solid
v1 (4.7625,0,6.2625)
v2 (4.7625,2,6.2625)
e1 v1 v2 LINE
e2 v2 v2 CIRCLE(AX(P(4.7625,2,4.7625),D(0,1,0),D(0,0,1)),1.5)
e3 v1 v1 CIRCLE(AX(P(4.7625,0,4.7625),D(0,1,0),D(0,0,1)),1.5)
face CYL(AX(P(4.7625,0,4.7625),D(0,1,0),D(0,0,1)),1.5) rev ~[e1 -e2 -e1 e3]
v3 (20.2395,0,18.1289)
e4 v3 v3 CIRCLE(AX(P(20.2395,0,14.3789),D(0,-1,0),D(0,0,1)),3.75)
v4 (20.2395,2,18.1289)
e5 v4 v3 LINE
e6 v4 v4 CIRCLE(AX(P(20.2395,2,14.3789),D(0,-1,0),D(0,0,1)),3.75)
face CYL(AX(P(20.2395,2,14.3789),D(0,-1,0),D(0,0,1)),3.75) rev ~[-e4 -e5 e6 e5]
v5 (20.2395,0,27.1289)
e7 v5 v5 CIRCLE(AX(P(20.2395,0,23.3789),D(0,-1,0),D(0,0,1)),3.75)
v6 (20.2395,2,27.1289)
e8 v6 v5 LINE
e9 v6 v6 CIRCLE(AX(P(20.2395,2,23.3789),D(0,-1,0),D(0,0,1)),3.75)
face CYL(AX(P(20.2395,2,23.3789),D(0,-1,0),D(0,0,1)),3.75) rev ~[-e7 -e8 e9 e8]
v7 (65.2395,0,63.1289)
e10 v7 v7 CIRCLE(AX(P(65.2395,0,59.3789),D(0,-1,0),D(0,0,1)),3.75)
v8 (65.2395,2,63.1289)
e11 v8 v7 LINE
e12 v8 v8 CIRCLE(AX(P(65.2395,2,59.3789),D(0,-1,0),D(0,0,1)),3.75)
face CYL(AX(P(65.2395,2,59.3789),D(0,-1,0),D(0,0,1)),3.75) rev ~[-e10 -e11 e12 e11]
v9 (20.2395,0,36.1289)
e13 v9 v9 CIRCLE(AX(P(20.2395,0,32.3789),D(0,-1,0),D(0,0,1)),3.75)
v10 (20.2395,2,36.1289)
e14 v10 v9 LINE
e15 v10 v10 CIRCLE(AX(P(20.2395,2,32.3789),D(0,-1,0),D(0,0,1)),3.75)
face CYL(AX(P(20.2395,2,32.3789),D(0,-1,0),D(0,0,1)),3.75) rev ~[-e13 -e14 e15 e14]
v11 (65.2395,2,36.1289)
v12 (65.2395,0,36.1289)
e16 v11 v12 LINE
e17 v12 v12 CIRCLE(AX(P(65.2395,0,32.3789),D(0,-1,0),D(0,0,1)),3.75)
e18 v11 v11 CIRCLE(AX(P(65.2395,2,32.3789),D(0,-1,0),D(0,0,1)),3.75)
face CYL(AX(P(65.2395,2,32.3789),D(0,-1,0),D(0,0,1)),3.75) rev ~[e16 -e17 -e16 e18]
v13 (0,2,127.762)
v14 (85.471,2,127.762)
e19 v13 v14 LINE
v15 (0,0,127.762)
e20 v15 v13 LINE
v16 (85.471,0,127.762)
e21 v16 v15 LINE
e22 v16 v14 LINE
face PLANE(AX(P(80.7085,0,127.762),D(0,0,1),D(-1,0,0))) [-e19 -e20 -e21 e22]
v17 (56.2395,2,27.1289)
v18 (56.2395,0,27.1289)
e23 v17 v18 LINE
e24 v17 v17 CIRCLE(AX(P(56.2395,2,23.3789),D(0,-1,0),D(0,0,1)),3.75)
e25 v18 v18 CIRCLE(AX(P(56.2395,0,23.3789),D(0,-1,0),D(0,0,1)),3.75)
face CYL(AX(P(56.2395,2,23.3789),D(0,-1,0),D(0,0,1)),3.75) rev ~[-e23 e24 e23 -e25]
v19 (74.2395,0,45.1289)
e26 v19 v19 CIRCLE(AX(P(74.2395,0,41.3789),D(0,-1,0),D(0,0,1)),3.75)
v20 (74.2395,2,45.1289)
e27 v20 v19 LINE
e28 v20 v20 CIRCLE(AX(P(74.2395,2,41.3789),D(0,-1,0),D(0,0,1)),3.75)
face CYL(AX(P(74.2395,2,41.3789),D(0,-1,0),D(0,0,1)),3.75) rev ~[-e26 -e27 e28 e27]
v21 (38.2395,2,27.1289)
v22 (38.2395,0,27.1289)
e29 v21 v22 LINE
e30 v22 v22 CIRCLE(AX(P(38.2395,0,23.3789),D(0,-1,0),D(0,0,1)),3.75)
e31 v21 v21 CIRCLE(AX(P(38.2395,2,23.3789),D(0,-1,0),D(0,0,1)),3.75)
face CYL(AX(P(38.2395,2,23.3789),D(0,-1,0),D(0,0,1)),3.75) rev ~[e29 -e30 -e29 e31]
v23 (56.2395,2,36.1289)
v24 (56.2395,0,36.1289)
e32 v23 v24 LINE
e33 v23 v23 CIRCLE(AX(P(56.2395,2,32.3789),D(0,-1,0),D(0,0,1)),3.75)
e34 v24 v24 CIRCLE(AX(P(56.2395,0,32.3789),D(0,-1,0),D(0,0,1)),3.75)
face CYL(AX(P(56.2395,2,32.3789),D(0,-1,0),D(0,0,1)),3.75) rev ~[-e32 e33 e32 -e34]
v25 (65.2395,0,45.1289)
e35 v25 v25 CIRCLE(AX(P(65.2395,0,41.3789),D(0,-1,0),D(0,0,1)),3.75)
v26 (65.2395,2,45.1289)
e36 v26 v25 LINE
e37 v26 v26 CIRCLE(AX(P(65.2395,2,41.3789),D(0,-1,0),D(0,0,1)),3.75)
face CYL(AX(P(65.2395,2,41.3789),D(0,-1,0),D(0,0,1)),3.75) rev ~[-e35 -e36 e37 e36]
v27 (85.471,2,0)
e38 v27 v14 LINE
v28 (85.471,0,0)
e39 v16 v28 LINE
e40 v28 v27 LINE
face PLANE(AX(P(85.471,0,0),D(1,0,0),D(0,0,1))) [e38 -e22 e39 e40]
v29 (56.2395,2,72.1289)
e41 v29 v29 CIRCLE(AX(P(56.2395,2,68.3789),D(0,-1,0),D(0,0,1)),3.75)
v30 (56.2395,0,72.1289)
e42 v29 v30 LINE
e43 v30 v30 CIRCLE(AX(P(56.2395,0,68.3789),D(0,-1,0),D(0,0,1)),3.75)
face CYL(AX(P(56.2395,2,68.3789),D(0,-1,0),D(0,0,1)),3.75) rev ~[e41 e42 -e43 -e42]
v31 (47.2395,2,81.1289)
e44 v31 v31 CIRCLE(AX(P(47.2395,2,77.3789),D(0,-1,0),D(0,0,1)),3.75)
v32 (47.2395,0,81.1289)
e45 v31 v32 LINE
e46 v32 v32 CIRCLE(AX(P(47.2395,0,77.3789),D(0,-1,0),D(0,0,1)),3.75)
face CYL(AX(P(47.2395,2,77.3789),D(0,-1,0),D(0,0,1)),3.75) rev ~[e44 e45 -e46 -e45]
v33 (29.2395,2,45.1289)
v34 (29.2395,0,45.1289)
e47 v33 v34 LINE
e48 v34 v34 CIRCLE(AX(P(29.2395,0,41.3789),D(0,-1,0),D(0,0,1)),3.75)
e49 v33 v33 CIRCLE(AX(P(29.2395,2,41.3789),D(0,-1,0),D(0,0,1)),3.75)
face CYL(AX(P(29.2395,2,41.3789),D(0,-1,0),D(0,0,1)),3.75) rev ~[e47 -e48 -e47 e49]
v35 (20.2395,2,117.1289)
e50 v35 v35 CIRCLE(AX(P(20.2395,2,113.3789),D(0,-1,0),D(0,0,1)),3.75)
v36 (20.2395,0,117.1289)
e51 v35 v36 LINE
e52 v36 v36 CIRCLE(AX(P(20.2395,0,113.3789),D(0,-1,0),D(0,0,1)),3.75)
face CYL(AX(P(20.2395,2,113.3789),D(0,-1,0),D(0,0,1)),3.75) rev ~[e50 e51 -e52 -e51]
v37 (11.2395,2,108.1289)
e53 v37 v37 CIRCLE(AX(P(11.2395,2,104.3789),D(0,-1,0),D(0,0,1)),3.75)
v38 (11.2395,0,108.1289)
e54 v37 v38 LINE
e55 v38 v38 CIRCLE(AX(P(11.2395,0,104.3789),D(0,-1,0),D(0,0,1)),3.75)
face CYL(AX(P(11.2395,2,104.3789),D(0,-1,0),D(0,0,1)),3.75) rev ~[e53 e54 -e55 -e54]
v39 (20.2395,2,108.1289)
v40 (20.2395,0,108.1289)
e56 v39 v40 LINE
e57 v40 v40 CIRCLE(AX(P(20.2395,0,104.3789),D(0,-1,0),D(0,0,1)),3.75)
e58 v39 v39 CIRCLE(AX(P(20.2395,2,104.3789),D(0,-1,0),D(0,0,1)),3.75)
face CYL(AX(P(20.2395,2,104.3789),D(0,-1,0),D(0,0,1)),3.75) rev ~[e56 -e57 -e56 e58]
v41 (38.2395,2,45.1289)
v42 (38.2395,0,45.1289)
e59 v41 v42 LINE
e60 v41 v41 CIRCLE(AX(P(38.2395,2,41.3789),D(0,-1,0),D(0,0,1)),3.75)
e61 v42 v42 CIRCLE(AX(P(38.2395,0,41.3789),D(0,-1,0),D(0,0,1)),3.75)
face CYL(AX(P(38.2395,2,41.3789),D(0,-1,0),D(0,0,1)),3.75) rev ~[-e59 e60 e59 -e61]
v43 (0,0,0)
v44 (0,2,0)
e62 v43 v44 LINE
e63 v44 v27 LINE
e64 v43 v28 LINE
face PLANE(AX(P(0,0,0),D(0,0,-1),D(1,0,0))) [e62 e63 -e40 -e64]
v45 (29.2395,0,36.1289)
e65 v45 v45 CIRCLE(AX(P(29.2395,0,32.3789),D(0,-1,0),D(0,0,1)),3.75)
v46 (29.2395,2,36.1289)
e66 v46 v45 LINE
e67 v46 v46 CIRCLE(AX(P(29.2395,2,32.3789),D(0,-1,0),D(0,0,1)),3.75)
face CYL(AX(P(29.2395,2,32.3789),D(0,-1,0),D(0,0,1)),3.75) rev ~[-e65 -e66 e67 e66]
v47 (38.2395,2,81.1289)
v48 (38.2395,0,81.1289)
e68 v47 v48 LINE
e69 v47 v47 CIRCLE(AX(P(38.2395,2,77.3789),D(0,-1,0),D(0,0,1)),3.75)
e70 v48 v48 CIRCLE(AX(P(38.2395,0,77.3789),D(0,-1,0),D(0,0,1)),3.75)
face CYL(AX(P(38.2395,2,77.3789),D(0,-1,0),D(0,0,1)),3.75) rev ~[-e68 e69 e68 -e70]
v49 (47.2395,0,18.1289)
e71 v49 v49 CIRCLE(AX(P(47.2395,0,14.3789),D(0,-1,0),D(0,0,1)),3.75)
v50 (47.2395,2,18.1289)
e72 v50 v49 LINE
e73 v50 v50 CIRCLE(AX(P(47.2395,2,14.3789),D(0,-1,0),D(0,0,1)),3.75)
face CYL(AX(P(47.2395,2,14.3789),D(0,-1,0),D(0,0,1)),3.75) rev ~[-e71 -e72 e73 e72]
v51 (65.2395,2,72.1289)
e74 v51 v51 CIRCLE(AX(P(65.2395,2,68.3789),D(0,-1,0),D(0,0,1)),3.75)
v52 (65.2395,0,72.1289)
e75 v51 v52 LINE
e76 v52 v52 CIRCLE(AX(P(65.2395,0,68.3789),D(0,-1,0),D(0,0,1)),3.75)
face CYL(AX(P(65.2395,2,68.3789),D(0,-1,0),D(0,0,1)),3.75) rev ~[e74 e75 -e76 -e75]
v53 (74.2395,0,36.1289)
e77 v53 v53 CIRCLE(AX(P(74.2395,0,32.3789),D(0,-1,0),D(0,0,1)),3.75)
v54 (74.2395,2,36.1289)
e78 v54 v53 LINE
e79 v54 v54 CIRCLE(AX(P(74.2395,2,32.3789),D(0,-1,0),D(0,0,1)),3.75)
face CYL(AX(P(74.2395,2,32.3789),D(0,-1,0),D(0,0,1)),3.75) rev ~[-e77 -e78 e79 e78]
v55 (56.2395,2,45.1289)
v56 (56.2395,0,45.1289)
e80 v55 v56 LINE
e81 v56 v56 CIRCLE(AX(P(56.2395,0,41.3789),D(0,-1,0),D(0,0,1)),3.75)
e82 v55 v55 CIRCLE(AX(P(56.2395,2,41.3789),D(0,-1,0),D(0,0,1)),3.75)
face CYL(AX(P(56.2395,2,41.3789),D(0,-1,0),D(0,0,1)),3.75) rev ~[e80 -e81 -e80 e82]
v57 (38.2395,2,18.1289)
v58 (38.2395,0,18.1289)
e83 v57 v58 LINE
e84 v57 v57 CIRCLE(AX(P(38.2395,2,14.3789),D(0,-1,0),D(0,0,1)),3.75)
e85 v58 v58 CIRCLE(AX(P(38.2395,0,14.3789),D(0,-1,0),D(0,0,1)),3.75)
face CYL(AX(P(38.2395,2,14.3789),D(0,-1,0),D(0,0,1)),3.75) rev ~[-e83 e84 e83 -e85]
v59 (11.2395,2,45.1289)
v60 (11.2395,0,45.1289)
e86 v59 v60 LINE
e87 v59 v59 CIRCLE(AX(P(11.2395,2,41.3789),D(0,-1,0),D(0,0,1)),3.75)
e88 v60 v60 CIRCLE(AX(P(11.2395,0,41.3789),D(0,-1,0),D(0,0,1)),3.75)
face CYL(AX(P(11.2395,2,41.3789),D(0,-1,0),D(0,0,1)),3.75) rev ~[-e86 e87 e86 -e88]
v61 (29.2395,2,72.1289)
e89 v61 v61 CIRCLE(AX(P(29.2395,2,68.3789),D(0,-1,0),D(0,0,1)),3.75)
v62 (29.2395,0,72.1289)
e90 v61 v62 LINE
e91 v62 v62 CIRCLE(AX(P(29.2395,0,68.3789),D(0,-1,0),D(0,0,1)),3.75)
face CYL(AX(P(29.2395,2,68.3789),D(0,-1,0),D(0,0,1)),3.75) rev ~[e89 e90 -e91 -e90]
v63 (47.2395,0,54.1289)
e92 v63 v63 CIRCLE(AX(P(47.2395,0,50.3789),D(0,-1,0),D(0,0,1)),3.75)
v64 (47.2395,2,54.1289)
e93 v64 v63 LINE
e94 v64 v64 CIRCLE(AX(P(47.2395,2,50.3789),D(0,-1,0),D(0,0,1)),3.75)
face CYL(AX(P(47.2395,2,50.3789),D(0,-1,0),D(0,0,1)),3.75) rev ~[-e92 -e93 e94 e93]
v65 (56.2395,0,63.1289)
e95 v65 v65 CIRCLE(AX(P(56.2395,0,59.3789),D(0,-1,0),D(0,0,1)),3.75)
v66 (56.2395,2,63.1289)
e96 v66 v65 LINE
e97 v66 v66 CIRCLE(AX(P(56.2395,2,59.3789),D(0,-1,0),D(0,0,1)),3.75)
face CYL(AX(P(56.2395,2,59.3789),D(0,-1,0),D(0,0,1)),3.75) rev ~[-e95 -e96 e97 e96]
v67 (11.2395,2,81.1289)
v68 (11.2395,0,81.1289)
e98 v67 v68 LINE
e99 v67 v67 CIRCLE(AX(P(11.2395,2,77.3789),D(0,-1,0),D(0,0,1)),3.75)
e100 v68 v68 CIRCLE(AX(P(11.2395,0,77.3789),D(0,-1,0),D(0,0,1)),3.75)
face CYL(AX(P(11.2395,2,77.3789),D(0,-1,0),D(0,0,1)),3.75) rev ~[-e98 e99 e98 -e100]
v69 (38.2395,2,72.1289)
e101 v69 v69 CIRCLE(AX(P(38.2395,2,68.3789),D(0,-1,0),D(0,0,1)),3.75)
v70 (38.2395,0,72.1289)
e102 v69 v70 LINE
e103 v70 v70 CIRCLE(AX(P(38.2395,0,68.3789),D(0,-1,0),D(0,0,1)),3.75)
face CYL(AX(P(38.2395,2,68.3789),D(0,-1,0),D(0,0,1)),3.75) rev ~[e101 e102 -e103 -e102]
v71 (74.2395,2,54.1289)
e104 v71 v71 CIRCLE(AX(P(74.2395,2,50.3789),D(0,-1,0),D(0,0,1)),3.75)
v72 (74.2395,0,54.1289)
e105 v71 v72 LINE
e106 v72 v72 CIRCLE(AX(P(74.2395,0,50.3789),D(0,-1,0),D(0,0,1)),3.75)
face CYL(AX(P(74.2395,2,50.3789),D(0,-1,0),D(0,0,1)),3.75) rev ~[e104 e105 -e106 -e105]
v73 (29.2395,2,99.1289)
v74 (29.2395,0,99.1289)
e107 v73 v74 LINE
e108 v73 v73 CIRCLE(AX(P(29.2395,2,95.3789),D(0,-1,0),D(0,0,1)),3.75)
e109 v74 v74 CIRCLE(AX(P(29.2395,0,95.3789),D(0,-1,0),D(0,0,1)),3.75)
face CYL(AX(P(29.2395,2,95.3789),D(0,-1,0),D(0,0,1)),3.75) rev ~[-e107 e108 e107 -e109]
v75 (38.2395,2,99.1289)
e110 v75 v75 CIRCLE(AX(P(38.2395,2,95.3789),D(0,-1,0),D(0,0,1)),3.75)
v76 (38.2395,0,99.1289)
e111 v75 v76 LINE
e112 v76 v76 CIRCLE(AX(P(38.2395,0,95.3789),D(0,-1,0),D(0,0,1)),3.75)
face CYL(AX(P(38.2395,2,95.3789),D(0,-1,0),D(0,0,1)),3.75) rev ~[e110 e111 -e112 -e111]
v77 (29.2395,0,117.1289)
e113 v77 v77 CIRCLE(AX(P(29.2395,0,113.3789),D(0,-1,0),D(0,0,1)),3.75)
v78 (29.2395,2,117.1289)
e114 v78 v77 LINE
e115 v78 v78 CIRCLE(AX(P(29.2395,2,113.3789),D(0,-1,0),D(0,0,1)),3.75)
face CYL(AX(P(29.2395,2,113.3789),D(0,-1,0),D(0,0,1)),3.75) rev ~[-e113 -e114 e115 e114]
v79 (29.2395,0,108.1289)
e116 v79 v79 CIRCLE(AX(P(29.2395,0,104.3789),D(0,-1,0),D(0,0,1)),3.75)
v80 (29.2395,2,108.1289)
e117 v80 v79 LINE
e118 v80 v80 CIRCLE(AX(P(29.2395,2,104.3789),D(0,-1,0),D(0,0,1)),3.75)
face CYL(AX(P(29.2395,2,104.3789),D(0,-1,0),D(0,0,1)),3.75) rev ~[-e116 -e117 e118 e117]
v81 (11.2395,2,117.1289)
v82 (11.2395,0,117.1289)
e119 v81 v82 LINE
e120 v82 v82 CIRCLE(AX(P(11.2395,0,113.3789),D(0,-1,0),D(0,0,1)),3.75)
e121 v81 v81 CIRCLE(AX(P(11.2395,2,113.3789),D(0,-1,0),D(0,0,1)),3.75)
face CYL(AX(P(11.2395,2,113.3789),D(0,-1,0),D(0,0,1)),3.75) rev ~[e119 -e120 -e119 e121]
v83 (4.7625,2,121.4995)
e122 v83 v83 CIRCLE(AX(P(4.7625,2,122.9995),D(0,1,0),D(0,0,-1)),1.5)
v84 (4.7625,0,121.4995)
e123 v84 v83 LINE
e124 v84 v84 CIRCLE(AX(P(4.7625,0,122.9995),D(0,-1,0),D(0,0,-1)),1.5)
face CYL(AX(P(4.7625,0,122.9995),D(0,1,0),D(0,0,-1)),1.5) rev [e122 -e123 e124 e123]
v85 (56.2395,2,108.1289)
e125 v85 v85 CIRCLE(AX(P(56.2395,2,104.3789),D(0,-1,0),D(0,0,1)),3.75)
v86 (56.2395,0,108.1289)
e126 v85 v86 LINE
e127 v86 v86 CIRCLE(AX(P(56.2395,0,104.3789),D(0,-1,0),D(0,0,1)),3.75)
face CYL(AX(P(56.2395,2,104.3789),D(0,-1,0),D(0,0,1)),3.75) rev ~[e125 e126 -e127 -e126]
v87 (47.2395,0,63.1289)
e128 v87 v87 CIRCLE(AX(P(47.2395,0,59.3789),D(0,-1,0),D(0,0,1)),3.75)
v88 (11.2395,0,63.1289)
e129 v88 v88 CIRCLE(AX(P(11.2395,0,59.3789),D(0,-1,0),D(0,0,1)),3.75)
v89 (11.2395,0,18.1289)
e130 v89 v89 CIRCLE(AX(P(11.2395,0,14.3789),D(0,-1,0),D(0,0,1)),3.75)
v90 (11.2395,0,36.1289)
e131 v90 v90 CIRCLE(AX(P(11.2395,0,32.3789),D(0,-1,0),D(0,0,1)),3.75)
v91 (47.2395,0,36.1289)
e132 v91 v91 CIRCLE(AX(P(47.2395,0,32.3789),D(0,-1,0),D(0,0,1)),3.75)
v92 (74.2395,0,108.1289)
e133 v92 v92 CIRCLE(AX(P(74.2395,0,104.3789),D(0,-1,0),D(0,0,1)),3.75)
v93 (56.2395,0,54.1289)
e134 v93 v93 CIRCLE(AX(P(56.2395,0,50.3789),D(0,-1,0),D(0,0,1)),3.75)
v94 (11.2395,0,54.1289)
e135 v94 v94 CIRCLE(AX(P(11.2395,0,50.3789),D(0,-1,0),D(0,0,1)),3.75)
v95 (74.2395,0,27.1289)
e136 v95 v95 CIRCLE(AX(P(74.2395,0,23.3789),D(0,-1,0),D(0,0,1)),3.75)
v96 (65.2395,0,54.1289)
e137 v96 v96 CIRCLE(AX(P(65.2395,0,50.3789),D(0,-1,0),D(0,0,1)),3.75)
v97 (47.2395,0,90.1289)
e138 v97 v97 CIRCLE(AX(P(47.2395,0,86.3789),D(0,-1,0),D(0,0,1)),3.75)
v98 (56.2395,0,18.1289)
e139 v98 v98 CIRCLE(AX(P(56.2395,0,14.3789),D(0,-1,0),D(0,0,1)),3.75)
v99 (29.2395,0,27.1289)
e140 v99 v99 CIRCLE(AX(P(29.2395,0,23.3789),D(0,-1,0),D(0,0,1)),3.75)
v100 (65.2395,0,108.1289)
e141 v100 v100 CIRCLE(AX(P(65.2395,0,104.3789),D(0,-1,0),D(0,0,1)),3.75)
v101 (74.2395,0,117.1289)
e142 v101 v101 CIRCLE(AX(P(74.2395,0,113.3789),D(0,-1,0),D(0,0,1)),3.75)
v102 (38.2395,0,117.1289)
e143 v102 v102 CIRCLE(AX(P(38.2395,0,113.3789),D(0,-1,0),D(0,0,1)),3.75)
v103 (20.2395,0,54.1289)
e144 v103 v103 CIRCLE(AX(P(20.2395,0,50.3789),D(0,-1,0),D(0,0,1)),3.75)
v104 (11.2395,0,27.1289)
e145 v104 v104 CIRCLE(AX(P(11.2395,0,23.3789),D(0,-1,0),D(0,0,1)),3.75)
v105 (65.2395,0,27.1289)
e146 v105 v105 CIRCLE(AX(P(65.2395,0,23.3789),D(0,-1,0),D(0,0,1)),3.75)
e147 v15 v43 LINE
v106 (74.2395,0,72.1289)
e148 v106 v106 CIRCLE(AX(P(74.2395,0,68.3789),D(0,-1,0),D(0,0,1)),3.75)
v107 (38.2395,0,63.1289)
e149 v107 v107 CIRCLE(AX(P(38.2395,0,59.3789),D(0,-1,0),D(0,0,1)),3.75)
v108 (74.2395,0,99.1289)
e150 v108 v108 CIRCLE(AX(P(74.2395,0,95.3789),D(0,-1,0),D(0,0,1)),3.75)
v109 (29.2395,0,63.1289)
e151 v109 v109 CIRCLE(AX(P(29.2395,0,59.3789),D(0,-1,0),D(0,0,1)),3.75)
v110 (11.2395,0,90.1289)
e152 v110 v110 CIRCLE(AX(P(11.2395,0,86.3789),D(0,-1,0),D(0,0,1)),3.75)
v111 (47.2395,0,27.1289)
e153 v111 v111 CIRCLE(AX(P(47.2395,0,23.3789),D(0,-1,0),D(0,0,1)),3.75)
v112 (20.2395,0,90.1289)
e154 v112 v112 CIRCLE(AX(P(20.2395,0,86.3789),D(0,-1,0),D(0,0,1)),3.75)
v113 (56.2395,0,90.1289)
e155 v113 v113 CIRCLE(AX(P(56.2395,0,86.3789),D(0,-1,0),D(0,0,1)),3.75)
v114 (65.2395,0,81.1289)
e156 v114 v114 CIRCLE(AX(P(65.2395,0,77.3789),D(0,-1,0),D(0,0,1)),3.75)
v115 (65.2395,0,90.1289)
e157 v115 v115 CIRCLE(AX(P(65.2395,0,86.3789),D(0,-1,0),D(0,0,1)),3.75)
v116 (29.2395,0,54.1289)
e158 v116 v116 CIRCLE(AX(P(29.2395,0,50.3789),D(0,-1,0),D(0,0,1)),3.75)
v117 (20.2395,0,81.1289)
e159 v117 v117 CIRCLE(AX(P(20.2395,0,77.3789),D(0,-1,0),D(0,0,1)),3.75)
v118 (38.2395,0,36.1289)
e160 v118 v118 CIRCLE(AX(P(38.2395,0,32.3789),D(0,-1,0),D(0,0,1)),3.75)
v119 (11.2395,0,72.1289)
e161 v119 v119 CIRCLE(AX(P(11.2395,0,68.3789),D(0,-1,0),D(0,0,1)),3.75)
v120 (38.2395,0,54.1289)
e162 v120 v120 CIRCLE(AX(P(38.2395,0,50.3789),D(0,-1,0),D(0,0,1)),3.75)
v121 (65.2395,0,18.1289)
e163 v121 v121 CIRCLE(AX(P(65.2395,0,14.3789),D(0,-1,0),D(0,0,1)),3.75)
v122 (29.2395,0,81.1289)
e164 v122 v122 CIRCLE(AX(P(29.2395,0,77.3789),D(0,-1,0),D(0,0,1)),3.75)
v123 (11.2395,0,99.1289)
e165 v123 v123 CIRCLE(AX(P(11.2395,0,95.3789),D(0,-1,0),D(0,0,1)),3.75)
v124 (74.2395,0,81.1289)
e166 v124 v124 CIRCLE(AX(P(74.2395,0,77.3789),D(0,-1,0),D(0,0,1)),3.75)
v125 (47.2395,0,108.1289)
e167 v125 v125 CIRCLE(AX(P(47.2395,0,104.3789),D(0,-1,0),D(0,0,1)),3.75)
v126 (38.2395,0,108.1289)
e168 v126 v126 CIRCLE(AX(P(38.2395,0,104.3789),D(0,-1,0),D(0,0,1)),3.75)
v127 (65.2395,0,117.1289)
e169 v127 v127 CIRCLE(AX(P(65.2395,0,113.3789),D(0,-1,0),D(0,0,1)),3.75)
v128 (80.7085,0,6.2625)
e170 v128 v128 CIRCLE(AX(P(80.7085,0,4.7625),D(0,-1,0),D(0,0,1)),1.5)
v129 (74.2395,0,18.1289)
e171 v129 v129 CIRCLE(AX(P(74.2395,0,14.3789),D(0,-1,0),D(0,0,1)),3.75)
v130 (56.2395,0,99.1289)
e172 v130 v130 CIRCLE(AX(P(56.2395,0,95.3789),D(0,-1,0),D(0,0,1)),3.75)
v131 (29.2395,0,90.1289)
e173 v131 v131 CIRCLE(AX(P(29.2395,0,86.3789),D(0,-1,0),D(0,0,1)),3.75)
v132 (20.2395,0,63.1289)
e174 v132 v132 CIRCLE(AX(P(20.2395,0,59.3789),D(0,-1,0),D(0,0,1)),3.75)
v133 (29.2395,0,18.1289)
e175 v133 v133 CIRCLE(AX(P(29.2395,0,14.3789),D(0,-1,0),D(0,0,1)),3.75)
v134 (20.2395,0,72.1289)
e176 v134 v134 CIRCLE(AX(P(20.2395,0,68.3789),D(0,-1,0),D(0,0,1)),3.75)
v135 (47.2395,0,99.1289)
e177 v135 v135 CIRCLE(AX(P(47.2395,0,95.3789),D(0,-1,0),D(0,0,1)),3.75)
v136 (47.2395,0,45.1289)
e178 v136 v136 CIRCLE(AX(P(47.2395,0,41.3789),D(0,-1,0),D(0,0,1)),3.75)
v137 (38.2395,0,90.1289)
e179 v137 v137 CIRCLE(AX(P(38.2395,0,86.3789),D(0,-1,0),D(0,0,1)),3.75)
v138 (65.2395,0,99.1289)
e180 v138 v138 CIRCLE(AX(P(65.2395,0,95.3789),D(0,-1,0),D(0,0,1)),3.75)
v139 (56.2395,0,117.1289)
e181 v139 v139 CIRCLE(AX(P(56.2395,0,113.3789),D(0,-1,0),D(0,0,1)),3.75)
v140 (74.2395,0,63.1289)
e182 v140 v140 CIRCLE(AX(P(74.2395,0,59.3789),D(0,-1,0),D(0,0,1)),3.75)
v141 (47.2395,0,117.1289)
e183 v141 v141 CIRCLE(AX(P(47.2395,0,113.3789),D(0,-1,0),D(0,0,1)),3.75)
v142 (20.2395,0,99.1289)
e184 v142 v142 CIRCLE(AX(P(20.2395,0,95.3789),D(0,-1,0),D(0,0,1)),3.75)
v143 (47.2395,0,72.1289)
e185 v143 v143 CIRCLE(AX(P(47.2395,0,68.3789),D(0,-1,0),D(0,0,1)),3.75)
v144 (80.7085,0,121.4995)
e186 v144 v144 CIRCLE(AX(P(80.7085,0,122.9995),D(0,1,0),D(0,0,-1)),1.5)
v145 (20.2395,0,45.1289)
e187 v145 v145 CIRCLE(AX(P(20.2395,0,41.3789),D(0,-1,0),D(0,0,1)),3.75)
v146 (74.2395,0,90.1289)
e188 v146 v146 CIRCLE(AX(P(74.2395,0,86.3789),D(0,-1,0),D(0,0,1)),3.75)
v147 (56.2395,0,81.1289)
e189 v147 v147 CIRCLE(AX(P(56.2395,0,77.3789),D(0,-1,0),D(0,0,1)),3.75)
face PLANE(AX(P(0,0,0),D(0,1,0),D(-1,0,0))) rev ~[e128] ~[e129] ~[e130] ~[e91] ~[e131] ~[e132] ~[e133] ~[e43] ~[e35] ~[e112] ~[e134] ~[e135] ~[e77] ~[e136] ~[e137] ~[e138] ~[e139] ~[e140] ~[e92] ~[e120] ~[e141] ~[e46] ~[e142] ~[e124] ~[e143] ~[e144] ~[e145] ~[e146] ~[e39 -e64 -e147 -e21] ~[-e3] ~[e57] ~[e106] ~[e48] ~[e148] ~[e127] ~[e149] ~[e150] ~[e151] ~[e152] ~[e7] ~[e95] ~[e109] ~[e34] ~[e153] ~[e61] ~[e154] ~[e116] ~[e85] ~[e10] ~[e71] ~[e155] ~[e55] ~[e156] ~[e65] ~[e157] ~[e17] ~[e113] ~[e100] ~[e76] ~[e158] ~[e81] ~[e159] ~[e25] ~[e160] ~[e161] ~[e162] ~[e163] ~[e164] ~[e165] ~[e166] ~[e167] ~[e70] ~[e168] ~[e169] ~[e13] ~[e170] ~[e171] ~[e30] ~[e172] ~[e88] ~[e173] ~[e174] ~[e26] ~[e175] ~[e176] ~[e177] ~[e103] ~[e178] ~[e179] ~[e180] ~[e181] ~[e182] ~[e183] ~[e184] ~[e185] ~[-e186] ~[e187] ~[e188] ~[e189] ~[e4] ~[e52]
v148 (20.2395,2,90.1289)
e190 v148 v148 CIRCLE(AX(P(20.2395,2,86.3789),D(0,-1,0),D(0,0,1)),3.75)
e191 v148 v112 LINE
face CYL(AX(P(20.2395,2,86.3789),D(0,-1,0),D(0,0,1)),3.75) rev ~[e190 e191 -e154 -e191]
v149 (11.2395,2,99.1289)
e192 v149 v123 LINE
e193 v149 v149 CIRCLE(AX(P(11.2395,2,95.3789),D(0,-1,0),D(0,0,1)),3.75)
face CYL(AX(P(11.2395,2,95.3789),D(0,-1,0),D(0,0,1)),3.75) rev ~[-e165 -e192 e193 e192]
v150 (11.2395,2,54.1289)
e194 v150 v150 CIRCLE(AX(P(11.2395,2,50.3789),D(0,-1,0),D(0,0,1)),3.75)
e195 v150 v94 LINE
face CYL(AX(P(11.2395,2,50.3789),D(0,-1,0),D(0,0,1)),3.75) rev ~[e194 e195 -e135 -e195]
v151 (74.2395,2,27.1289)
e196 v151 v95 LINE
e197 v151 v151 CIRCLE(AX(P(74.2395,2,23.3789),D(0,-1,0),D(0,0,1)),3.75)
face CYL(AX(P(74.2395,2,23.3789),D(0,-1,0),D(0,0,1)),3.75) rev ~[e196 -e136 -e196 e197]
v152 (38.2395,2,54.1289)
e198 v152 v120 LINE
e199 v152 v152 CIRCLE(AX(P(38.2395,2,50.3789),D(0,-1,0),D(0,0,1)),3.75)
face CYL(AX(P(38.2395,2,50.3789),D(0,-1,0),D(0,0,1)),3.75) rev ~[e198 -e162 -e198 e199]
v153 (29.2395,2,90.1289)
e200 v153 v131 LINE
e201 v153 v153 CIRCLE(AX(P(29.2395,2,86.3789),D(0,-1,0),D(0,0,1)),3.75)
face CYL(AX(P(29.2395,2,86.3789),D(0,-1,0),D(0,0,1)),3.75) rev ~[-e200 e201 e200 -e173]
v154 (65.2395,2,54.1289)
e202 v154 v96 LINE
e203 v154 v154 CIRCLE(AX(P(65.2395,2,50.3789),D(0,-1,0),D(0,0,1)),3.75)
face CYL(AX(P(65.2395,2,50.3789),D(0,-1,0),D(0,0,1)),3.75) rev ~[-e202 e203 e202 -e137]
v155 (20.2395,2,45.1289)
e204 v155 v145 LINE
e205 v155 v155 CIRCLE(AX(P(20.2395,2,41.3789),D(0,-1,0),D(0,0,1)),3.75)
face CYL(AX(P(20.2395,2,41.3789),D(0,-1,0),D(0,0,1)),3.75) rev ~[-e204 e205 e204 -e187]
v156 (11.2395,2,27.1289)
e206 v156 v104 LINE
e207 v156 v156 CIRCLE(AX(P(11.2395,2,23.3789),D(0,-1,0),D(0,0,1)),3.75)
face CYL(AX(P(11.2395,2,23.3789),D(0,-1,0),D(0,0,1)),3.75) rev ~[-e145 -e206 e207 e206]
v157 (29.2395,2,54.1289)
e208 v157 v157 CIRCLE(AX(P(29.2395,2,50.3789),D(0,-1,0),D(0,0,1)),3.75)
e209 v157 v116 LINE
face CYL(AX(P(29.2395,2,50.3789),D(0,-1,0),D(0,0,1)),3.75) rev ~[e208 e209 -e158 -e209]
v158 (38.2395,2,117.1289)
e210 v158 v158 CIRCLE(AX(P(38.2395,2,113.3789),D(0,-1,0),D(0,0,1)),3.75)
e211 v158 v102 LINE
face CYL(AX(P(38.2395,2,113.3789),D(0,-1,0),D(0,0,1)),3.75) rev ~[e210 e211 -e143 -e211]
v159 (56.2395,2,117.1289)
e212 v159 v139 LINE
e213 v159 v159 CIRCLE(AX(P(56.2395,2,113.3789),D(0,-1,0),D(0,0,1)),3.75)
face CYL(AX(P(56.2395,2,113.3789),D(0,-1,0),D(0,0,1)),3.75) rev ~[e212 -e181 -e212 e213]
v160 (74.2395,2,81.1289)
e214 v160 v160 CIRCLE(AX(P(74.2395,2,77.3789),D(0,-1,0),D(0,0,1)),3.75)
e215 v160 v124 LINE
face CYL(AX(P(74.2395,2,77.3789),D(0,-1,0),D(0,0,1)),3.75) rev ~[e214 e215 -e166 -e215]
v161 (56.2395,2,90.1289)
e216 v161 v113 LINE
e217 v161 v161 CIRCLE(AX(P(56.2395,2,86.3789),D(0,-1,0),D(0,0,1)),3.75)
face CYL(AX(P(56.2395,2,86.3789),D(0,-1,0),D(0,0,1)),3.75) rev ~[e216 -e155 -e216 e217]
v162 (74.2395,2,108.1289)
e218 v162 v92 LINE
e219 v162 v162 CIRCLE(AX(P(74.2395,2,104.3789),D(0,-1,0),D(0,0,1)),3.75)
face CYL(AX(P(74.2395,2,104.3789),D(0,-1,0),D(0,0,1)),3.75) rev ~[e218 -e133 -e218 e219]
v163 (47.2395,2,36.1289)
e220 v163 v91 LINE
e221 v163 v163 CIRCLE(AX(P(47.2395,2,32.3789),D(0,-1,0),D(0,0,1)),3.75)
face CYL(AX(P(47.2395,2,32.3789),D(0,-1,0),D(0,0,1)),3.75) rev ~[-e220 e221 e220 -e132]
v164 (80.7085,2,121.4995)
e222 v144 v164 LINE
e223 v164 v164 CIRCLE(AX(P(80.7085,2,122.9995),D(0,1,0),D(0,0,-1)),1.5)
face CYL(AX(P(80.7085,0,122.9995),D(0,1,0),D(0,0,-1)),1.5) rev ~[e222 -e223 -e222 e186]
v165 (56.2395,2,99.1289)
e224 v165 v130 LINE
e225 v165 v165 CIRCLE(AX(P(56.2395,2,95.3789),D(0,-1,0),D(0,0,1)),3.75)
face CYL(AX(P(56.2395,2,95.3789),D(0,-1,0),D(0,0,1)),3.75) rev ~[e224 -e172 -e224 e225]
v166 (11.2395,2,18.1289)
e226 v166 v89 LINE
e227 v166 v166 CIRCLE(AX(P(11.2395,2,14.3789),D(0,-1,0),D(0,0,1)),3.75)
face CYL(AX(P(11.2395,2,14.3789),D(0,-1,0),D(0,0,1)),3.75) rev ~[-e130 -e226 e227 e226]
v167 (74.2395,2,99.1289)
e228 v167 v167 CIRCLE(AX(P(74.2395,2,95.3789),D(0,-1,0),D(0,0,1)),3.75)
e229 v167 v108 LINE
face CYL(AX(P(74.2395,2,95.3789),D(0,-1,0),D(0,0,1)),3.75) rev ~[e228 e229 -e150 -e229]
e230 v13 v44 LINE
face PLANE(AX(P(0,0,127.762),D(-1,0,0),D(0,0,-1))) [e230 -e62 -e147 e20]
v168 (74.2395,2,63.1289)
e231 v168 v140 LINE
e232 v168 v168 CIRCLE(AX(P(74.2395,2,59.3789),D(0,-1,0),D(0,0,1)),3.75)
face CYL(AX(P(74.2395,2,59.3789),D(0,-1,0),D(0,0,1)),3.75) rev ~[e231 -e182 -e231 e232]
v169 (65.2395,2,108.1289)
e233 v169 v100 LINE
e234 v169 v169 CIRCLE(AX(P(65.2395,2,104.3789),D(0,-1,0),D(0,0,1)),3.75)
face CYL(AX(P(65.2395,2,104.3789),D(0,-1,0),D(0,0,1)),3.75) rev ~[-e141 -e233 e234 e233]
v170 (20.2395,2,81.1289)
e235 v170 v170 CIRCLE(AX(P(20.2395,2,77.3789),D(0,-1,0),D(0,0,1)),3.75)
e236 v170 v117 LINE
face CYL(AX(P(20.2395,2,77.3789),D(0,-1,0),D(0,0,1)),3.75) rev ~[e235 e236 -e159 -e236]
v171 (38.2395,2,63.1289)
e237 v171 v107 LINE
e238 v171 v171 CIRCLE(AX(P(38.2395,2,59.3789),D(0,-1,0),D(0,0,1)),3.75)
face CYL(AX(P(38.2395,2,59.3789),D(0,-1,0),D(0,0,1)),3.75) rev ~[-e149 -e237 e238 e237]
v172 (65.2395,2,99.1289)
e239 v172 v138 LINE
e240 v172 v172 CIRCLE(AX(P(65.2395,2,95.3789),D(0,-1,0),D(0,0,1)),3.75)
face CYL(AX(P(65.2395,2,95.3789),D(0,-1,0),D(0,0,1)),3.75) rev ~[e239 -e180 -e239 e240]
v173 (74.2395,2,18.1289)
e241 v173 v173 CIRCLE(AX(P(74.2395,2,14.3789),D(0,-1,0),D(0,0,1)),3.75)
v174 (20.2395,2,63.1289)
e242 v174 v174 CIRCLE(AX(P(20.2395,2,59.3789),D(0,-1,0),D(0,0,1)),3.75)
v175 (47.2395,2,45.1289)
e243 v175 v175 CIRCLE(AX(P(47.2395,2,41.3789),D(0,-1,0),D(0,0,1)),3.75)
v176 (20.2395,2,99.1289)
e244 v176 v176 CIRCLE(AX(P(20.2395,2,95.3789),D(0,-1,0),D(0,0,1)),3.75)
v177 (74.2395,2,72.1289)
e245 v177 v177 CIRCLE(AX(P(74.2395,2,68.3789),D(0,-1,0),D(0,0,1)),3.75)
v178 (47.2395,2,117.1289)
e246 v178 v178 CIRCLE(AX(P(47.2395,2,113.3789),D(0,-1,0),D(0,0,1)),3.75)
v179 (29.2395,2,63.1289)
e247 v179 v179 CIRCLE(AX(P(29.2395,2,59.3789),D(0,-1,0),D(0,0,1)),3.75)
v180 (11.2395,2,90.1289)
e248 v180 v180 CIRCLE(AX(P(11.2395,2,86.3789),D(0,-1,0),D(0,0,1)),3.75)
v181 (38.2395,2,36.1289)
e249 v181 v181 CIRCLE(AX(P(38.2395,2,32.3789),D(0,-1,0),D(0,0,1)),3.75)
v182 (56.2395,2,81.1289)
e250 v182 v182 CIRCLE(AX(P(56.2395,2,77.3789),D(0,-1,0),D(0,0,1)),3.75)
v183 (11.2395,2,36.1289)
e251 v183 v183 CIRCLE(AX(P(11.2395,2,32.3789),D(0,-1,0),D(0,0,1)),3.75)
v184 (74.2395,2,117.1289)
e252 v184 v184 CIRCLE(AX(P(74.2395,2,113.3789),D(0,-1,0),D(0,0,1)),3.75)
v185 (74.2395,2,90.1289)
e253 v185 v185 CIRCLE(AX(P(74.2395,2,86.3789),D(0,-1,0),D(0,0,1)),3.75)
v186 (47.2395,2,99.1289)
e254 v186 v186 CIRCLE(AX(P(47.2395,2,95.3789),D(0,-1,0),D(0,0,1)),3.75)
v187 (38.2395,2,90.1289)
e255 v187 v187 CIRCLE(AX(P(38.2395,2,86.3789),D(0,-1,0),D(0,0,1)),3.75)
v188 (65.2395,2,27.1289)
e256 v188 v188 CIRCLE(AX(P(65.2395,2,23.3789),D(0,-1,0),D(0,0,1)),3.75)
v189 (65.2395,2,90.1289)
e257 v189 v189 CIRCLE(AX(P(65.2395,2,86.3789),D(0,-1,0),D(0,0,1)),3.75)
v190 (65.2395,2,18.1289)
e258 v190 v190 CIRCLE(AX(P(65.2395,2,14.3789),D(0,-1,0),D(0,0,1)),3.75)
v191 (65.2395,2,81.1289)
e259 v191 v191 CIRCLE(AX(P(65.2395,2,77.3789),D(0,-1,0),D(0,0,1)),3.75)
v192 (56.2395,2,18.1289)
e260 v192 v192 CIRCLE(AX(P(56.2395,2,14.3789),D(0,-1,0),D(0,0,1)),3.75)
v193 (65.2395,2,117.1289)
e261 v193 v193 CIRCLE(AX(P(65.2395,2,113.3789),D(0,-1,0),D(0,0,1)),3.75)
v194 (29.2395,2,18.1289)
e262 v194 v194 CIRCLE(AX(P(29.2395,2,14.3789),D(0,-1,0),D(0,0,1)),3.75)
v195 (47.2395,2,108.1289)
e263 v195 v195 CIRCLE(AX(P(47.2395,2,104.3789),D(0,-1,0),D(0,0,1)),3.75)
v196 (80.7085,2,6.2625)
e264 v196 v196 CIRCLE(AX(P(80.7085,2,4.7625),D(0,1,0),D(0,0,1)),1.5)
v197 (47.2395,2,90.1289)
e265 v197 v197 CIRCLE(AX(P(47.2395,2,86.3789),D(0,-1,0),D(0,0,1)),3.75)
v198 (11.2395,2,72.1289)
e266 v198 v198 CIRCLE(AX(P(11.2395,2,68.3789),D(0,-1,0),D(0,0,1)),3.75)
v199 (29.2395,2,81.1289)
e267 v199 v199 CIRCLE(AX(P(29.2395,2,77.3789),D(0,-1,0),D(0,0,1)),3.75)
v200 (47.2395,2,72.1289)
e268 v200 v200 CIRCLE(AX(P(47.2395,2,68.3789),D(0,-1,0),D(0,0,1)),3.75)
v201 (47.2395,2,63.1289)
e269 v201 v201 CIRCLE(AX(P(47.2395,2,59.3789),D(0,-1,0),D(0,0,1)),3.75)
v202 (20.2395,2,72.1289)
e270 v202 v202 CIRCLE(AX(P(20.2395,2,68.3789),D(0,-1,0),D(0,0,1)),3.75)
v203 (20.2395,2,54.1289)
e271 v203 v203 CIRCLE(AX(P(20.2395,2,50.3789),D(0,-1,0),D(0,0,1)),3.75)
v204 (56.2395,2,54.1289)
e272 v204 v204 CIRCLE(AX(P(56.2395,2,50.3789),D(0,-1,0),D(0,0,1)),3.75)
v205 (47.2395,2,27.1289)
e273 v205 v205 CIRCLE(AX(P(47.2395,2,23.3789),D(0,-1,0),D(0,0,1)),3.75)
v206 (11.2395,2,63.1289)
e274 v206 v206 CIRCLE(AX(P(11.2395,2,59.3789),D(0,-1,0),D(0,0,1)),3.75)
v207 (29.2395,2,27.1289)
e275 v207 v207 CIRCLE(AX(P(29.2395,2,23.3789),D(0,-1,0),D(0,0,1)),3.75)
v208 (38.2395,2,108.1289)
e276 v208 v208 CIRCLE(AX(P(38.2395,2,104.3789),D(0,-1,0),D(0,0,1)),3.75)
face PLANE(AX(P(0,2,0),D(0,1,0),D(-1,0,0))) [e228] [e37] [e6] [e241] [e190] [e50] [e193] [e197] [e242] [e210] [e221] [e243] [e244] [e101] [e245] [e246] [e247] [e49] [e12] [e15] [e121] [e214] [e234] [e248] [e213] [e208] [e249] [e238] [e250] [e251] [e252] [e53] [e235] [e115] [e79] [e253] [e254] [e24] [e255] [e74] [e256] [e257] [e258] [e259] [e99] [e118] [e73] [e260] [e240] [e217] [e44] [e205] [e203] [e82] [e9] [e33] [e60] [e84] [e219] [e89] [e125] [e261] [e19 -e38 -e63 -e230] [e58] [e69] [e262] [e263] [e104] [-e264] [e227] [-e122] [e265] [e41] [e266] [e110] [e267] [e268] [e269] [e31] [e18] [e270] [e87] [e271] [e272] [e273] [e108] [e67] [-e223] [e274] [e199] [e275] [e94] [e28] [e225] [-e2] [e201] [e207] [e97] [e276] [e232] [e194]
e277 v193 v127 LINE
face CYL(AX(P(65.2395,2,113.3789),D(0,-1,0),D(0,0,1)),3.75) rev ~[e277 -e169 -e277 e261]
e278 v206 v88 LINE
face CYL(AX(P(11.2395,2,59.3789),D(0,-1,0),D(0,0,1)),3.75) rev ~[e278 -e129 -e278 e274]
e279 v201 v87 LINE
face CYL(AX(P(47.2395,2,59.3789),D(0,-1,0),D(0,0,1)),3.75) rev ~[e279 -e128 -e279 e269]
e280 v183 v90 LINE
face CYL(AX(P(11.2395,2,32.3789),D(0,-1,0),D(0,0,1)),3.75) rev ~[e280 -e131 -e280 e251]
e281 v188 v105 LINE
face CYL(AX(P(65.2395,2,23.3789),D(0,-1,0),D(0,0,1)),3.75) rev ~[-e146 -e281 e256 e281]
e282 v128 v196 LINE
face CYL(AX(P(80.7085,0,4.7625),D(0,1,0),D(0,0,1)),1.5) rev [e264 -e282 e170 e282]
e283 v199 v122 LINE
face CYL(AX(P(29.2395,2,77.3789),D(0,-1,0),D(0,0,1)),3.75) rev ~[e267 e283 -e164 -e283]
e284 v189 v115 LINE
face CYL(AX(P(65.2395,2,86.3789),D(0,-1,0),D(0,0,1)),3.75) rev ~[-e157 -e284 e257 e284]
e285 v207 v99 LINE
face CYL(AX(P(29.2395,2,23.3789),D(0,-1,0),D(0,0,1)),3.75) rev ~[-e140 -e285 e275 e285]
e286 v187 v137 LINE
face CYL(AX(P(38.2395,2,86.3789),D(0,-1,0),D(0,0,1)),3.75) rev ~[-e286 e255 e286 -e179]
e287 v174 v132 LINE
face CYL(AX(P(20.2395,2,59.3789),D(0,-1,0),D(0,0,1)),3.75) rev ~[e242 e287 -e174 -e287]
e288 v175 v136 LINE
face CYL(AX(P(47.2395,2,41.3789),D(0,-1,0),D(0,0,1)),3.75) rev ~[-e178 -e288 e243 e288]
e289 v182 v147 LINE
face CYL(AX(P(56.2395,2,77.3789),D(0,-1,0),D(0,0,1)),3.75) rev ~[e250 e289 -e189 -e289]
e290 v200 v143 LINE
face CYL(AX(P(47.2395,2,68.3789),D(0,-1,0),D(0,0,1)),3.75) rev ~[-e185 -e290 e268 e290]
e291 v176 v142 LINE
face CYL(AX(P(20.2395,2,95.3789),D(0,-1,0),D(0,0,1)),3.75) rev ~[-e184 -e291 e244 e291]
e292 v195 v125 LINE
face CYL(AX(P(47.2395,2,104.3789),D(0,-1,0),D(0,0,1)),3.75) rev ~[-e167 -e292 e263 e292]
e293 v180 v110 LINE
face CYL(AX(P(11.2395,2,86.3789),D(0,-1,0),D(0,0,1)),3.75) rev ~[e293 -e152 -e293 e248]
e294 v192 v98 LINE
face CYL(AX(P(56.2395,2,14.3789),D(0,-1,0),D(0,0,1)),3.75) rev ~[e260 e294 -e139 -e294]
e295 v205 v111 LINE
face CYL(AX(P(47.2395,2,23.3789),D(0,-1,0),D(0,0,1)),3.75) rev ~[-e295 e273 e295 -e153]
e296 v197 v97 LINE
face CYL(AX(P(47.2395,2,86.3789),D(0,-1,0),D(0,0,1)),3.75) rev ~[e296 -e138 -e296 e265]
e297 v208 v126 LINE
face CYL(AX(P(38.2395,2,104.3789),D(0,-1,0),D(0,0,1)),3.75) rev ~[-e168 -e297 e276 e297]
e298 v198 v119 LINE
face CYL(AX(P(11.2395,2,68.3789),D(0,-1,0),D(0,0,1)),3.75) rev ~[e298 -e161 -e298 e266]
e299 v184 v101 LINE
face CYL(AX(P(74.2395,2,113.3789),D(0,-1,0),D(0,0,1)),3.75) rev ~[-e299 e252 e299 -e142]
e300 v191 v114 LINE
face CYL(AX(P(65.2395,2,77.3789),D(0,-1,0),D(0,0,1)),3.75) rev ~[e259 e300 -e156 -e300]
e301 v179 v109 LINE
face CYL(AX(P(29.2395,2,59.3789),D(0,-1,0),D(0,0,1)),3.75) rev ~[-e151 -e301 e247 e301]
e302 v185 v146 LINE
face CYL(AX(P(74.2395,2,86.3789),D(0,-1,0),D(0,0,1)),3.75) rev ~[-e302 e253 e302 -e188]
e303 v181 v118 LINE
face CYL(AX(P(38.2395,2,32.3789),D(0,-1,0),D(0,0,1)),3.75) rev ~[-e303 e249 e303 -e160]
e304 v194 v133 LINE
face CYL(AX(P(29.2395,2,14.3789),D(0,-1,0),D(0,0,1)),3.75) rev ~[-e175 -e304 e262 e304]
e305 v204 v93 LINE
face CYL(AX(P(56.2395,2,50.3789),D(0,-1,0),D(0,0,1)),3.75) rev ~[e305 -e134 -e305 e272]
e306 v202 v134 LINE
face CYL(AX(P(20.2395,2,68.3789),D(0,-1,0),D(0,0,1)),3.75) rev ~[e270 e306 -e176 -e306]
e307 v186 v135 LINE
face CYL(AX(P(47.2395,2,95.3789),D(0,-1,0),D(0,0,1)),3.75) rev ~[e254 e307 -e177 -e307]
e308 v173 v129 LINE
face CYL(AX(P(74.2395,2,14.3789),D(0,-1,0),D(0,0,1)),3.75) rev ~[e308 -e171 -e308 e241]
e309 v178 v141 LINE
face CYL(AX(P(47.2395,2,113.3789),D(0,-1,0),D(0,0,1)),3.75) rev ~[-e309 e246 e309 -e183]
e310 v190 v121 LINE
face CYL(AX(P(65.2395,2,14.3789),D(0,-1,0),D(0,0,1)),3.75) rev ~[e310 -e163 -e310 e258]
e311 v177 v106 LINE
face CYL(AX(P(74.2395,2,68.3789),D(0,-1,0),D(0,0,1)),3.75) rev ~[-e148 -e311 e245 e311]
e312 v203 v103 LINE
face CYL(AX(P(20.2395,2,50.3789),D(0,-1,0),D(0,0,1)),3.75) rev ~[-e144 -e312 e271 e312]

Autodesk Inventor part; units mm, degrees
ref_plane "YZ Plane" through (0, 0, 0) normal (1, 0, 0) x (0, 1, 0)
ref_plane "XZ Plane" through (0, 0, 0) normal (0, 1, 0) x (-1, 0, 0)
ref_plane "XY Plane" through (0, 0, 0) normal (0, 0, 1) x (1, 0, 0)
sketch "Sketch1" plane through (0, 0, 0) normal (0, 1, 0) x (-1, 0, 0)
  line L0 (0, 0) -> (-85.471, 0)
  line L1 (-85.471, 0) -> (-85.471, 127.762)
  line L2 (-85.471, 127.762) -> (0, 127.762)
  line L3 (0, 127.762) -> (0, 0)
  line L4 (-85.471, 127.762) -> (-80.7085, 127.762)
  line L5 (-80.7085, 127.762) -> (-80.7085, 122.9995)
  line L6 (-80.7085, 122.9995) -> (-85.471, 122.9995)
  line L7 (-85.471, 122.9995) -> (-85.471, 127.762)
  point P0 (-42.7355, 0)
  point P1 (0, 63.881)
  dimension "d0" = 85.471
  dimension "d1" = 127.762
  dimension "d20" = 4.7625
  dimension "d21" = 4.7625
extrude "Extrusion1" add sketch "Sketch1" along normal blind 2
sketch "Sketch2" plane through (0, 2, 0) normal (0, 1, 0) x (1, 0, 0)
  line L0 (85.471, 0) -> (0, 0) projected
  line L1 (0, 0) -> (11.2395, 0)
  line L2 (11.2395, 0) -> (11.2395, -14.3789)
  line L3 (11.2395, -14.3789) -> (0, -14.3789)
  line L4 (0, -14.3789) -> (0, 0)
  circle A0 centre (11.2395, -14.3789) radius 3.5
  dimension "d4" = 11.2395
  dimension "d5" = 14.3789
  dimension "d6" = 7
hole "Hole1" at (11.2395, 2, 14.3789) direction (0, -1, 0) diameter 7.5 end through all
pattern_linear "Rectangular Pattern1" count 8 spacing 9 along (1, 0, 0) count 12 spacing 9 along (0, 0, 1) of "Hole1"
ref_plane "Work Plane1" through (42.7355, 0, 0) normal (1, 0, 0) x (0, 0, -1)
ref_plane "Work Plane2" through (0, 0, 63.881) normal (0, 0, -1) x (-1, 0, 0)
hole "Hole2" at (80.7085, 0, 122.9995) direction (0, 1, 0) diameter 3 end through all
mirror "Mirror1" about plane through (0, 0, 63.881) normal (0, 0, -1) of "Hole2"
mirror "Mirror2" about plane through (42.7355, 0, 0) normal (1, 0, 0) of "Hole2", "Mirror1"
properties part number "DSC pan tray"
